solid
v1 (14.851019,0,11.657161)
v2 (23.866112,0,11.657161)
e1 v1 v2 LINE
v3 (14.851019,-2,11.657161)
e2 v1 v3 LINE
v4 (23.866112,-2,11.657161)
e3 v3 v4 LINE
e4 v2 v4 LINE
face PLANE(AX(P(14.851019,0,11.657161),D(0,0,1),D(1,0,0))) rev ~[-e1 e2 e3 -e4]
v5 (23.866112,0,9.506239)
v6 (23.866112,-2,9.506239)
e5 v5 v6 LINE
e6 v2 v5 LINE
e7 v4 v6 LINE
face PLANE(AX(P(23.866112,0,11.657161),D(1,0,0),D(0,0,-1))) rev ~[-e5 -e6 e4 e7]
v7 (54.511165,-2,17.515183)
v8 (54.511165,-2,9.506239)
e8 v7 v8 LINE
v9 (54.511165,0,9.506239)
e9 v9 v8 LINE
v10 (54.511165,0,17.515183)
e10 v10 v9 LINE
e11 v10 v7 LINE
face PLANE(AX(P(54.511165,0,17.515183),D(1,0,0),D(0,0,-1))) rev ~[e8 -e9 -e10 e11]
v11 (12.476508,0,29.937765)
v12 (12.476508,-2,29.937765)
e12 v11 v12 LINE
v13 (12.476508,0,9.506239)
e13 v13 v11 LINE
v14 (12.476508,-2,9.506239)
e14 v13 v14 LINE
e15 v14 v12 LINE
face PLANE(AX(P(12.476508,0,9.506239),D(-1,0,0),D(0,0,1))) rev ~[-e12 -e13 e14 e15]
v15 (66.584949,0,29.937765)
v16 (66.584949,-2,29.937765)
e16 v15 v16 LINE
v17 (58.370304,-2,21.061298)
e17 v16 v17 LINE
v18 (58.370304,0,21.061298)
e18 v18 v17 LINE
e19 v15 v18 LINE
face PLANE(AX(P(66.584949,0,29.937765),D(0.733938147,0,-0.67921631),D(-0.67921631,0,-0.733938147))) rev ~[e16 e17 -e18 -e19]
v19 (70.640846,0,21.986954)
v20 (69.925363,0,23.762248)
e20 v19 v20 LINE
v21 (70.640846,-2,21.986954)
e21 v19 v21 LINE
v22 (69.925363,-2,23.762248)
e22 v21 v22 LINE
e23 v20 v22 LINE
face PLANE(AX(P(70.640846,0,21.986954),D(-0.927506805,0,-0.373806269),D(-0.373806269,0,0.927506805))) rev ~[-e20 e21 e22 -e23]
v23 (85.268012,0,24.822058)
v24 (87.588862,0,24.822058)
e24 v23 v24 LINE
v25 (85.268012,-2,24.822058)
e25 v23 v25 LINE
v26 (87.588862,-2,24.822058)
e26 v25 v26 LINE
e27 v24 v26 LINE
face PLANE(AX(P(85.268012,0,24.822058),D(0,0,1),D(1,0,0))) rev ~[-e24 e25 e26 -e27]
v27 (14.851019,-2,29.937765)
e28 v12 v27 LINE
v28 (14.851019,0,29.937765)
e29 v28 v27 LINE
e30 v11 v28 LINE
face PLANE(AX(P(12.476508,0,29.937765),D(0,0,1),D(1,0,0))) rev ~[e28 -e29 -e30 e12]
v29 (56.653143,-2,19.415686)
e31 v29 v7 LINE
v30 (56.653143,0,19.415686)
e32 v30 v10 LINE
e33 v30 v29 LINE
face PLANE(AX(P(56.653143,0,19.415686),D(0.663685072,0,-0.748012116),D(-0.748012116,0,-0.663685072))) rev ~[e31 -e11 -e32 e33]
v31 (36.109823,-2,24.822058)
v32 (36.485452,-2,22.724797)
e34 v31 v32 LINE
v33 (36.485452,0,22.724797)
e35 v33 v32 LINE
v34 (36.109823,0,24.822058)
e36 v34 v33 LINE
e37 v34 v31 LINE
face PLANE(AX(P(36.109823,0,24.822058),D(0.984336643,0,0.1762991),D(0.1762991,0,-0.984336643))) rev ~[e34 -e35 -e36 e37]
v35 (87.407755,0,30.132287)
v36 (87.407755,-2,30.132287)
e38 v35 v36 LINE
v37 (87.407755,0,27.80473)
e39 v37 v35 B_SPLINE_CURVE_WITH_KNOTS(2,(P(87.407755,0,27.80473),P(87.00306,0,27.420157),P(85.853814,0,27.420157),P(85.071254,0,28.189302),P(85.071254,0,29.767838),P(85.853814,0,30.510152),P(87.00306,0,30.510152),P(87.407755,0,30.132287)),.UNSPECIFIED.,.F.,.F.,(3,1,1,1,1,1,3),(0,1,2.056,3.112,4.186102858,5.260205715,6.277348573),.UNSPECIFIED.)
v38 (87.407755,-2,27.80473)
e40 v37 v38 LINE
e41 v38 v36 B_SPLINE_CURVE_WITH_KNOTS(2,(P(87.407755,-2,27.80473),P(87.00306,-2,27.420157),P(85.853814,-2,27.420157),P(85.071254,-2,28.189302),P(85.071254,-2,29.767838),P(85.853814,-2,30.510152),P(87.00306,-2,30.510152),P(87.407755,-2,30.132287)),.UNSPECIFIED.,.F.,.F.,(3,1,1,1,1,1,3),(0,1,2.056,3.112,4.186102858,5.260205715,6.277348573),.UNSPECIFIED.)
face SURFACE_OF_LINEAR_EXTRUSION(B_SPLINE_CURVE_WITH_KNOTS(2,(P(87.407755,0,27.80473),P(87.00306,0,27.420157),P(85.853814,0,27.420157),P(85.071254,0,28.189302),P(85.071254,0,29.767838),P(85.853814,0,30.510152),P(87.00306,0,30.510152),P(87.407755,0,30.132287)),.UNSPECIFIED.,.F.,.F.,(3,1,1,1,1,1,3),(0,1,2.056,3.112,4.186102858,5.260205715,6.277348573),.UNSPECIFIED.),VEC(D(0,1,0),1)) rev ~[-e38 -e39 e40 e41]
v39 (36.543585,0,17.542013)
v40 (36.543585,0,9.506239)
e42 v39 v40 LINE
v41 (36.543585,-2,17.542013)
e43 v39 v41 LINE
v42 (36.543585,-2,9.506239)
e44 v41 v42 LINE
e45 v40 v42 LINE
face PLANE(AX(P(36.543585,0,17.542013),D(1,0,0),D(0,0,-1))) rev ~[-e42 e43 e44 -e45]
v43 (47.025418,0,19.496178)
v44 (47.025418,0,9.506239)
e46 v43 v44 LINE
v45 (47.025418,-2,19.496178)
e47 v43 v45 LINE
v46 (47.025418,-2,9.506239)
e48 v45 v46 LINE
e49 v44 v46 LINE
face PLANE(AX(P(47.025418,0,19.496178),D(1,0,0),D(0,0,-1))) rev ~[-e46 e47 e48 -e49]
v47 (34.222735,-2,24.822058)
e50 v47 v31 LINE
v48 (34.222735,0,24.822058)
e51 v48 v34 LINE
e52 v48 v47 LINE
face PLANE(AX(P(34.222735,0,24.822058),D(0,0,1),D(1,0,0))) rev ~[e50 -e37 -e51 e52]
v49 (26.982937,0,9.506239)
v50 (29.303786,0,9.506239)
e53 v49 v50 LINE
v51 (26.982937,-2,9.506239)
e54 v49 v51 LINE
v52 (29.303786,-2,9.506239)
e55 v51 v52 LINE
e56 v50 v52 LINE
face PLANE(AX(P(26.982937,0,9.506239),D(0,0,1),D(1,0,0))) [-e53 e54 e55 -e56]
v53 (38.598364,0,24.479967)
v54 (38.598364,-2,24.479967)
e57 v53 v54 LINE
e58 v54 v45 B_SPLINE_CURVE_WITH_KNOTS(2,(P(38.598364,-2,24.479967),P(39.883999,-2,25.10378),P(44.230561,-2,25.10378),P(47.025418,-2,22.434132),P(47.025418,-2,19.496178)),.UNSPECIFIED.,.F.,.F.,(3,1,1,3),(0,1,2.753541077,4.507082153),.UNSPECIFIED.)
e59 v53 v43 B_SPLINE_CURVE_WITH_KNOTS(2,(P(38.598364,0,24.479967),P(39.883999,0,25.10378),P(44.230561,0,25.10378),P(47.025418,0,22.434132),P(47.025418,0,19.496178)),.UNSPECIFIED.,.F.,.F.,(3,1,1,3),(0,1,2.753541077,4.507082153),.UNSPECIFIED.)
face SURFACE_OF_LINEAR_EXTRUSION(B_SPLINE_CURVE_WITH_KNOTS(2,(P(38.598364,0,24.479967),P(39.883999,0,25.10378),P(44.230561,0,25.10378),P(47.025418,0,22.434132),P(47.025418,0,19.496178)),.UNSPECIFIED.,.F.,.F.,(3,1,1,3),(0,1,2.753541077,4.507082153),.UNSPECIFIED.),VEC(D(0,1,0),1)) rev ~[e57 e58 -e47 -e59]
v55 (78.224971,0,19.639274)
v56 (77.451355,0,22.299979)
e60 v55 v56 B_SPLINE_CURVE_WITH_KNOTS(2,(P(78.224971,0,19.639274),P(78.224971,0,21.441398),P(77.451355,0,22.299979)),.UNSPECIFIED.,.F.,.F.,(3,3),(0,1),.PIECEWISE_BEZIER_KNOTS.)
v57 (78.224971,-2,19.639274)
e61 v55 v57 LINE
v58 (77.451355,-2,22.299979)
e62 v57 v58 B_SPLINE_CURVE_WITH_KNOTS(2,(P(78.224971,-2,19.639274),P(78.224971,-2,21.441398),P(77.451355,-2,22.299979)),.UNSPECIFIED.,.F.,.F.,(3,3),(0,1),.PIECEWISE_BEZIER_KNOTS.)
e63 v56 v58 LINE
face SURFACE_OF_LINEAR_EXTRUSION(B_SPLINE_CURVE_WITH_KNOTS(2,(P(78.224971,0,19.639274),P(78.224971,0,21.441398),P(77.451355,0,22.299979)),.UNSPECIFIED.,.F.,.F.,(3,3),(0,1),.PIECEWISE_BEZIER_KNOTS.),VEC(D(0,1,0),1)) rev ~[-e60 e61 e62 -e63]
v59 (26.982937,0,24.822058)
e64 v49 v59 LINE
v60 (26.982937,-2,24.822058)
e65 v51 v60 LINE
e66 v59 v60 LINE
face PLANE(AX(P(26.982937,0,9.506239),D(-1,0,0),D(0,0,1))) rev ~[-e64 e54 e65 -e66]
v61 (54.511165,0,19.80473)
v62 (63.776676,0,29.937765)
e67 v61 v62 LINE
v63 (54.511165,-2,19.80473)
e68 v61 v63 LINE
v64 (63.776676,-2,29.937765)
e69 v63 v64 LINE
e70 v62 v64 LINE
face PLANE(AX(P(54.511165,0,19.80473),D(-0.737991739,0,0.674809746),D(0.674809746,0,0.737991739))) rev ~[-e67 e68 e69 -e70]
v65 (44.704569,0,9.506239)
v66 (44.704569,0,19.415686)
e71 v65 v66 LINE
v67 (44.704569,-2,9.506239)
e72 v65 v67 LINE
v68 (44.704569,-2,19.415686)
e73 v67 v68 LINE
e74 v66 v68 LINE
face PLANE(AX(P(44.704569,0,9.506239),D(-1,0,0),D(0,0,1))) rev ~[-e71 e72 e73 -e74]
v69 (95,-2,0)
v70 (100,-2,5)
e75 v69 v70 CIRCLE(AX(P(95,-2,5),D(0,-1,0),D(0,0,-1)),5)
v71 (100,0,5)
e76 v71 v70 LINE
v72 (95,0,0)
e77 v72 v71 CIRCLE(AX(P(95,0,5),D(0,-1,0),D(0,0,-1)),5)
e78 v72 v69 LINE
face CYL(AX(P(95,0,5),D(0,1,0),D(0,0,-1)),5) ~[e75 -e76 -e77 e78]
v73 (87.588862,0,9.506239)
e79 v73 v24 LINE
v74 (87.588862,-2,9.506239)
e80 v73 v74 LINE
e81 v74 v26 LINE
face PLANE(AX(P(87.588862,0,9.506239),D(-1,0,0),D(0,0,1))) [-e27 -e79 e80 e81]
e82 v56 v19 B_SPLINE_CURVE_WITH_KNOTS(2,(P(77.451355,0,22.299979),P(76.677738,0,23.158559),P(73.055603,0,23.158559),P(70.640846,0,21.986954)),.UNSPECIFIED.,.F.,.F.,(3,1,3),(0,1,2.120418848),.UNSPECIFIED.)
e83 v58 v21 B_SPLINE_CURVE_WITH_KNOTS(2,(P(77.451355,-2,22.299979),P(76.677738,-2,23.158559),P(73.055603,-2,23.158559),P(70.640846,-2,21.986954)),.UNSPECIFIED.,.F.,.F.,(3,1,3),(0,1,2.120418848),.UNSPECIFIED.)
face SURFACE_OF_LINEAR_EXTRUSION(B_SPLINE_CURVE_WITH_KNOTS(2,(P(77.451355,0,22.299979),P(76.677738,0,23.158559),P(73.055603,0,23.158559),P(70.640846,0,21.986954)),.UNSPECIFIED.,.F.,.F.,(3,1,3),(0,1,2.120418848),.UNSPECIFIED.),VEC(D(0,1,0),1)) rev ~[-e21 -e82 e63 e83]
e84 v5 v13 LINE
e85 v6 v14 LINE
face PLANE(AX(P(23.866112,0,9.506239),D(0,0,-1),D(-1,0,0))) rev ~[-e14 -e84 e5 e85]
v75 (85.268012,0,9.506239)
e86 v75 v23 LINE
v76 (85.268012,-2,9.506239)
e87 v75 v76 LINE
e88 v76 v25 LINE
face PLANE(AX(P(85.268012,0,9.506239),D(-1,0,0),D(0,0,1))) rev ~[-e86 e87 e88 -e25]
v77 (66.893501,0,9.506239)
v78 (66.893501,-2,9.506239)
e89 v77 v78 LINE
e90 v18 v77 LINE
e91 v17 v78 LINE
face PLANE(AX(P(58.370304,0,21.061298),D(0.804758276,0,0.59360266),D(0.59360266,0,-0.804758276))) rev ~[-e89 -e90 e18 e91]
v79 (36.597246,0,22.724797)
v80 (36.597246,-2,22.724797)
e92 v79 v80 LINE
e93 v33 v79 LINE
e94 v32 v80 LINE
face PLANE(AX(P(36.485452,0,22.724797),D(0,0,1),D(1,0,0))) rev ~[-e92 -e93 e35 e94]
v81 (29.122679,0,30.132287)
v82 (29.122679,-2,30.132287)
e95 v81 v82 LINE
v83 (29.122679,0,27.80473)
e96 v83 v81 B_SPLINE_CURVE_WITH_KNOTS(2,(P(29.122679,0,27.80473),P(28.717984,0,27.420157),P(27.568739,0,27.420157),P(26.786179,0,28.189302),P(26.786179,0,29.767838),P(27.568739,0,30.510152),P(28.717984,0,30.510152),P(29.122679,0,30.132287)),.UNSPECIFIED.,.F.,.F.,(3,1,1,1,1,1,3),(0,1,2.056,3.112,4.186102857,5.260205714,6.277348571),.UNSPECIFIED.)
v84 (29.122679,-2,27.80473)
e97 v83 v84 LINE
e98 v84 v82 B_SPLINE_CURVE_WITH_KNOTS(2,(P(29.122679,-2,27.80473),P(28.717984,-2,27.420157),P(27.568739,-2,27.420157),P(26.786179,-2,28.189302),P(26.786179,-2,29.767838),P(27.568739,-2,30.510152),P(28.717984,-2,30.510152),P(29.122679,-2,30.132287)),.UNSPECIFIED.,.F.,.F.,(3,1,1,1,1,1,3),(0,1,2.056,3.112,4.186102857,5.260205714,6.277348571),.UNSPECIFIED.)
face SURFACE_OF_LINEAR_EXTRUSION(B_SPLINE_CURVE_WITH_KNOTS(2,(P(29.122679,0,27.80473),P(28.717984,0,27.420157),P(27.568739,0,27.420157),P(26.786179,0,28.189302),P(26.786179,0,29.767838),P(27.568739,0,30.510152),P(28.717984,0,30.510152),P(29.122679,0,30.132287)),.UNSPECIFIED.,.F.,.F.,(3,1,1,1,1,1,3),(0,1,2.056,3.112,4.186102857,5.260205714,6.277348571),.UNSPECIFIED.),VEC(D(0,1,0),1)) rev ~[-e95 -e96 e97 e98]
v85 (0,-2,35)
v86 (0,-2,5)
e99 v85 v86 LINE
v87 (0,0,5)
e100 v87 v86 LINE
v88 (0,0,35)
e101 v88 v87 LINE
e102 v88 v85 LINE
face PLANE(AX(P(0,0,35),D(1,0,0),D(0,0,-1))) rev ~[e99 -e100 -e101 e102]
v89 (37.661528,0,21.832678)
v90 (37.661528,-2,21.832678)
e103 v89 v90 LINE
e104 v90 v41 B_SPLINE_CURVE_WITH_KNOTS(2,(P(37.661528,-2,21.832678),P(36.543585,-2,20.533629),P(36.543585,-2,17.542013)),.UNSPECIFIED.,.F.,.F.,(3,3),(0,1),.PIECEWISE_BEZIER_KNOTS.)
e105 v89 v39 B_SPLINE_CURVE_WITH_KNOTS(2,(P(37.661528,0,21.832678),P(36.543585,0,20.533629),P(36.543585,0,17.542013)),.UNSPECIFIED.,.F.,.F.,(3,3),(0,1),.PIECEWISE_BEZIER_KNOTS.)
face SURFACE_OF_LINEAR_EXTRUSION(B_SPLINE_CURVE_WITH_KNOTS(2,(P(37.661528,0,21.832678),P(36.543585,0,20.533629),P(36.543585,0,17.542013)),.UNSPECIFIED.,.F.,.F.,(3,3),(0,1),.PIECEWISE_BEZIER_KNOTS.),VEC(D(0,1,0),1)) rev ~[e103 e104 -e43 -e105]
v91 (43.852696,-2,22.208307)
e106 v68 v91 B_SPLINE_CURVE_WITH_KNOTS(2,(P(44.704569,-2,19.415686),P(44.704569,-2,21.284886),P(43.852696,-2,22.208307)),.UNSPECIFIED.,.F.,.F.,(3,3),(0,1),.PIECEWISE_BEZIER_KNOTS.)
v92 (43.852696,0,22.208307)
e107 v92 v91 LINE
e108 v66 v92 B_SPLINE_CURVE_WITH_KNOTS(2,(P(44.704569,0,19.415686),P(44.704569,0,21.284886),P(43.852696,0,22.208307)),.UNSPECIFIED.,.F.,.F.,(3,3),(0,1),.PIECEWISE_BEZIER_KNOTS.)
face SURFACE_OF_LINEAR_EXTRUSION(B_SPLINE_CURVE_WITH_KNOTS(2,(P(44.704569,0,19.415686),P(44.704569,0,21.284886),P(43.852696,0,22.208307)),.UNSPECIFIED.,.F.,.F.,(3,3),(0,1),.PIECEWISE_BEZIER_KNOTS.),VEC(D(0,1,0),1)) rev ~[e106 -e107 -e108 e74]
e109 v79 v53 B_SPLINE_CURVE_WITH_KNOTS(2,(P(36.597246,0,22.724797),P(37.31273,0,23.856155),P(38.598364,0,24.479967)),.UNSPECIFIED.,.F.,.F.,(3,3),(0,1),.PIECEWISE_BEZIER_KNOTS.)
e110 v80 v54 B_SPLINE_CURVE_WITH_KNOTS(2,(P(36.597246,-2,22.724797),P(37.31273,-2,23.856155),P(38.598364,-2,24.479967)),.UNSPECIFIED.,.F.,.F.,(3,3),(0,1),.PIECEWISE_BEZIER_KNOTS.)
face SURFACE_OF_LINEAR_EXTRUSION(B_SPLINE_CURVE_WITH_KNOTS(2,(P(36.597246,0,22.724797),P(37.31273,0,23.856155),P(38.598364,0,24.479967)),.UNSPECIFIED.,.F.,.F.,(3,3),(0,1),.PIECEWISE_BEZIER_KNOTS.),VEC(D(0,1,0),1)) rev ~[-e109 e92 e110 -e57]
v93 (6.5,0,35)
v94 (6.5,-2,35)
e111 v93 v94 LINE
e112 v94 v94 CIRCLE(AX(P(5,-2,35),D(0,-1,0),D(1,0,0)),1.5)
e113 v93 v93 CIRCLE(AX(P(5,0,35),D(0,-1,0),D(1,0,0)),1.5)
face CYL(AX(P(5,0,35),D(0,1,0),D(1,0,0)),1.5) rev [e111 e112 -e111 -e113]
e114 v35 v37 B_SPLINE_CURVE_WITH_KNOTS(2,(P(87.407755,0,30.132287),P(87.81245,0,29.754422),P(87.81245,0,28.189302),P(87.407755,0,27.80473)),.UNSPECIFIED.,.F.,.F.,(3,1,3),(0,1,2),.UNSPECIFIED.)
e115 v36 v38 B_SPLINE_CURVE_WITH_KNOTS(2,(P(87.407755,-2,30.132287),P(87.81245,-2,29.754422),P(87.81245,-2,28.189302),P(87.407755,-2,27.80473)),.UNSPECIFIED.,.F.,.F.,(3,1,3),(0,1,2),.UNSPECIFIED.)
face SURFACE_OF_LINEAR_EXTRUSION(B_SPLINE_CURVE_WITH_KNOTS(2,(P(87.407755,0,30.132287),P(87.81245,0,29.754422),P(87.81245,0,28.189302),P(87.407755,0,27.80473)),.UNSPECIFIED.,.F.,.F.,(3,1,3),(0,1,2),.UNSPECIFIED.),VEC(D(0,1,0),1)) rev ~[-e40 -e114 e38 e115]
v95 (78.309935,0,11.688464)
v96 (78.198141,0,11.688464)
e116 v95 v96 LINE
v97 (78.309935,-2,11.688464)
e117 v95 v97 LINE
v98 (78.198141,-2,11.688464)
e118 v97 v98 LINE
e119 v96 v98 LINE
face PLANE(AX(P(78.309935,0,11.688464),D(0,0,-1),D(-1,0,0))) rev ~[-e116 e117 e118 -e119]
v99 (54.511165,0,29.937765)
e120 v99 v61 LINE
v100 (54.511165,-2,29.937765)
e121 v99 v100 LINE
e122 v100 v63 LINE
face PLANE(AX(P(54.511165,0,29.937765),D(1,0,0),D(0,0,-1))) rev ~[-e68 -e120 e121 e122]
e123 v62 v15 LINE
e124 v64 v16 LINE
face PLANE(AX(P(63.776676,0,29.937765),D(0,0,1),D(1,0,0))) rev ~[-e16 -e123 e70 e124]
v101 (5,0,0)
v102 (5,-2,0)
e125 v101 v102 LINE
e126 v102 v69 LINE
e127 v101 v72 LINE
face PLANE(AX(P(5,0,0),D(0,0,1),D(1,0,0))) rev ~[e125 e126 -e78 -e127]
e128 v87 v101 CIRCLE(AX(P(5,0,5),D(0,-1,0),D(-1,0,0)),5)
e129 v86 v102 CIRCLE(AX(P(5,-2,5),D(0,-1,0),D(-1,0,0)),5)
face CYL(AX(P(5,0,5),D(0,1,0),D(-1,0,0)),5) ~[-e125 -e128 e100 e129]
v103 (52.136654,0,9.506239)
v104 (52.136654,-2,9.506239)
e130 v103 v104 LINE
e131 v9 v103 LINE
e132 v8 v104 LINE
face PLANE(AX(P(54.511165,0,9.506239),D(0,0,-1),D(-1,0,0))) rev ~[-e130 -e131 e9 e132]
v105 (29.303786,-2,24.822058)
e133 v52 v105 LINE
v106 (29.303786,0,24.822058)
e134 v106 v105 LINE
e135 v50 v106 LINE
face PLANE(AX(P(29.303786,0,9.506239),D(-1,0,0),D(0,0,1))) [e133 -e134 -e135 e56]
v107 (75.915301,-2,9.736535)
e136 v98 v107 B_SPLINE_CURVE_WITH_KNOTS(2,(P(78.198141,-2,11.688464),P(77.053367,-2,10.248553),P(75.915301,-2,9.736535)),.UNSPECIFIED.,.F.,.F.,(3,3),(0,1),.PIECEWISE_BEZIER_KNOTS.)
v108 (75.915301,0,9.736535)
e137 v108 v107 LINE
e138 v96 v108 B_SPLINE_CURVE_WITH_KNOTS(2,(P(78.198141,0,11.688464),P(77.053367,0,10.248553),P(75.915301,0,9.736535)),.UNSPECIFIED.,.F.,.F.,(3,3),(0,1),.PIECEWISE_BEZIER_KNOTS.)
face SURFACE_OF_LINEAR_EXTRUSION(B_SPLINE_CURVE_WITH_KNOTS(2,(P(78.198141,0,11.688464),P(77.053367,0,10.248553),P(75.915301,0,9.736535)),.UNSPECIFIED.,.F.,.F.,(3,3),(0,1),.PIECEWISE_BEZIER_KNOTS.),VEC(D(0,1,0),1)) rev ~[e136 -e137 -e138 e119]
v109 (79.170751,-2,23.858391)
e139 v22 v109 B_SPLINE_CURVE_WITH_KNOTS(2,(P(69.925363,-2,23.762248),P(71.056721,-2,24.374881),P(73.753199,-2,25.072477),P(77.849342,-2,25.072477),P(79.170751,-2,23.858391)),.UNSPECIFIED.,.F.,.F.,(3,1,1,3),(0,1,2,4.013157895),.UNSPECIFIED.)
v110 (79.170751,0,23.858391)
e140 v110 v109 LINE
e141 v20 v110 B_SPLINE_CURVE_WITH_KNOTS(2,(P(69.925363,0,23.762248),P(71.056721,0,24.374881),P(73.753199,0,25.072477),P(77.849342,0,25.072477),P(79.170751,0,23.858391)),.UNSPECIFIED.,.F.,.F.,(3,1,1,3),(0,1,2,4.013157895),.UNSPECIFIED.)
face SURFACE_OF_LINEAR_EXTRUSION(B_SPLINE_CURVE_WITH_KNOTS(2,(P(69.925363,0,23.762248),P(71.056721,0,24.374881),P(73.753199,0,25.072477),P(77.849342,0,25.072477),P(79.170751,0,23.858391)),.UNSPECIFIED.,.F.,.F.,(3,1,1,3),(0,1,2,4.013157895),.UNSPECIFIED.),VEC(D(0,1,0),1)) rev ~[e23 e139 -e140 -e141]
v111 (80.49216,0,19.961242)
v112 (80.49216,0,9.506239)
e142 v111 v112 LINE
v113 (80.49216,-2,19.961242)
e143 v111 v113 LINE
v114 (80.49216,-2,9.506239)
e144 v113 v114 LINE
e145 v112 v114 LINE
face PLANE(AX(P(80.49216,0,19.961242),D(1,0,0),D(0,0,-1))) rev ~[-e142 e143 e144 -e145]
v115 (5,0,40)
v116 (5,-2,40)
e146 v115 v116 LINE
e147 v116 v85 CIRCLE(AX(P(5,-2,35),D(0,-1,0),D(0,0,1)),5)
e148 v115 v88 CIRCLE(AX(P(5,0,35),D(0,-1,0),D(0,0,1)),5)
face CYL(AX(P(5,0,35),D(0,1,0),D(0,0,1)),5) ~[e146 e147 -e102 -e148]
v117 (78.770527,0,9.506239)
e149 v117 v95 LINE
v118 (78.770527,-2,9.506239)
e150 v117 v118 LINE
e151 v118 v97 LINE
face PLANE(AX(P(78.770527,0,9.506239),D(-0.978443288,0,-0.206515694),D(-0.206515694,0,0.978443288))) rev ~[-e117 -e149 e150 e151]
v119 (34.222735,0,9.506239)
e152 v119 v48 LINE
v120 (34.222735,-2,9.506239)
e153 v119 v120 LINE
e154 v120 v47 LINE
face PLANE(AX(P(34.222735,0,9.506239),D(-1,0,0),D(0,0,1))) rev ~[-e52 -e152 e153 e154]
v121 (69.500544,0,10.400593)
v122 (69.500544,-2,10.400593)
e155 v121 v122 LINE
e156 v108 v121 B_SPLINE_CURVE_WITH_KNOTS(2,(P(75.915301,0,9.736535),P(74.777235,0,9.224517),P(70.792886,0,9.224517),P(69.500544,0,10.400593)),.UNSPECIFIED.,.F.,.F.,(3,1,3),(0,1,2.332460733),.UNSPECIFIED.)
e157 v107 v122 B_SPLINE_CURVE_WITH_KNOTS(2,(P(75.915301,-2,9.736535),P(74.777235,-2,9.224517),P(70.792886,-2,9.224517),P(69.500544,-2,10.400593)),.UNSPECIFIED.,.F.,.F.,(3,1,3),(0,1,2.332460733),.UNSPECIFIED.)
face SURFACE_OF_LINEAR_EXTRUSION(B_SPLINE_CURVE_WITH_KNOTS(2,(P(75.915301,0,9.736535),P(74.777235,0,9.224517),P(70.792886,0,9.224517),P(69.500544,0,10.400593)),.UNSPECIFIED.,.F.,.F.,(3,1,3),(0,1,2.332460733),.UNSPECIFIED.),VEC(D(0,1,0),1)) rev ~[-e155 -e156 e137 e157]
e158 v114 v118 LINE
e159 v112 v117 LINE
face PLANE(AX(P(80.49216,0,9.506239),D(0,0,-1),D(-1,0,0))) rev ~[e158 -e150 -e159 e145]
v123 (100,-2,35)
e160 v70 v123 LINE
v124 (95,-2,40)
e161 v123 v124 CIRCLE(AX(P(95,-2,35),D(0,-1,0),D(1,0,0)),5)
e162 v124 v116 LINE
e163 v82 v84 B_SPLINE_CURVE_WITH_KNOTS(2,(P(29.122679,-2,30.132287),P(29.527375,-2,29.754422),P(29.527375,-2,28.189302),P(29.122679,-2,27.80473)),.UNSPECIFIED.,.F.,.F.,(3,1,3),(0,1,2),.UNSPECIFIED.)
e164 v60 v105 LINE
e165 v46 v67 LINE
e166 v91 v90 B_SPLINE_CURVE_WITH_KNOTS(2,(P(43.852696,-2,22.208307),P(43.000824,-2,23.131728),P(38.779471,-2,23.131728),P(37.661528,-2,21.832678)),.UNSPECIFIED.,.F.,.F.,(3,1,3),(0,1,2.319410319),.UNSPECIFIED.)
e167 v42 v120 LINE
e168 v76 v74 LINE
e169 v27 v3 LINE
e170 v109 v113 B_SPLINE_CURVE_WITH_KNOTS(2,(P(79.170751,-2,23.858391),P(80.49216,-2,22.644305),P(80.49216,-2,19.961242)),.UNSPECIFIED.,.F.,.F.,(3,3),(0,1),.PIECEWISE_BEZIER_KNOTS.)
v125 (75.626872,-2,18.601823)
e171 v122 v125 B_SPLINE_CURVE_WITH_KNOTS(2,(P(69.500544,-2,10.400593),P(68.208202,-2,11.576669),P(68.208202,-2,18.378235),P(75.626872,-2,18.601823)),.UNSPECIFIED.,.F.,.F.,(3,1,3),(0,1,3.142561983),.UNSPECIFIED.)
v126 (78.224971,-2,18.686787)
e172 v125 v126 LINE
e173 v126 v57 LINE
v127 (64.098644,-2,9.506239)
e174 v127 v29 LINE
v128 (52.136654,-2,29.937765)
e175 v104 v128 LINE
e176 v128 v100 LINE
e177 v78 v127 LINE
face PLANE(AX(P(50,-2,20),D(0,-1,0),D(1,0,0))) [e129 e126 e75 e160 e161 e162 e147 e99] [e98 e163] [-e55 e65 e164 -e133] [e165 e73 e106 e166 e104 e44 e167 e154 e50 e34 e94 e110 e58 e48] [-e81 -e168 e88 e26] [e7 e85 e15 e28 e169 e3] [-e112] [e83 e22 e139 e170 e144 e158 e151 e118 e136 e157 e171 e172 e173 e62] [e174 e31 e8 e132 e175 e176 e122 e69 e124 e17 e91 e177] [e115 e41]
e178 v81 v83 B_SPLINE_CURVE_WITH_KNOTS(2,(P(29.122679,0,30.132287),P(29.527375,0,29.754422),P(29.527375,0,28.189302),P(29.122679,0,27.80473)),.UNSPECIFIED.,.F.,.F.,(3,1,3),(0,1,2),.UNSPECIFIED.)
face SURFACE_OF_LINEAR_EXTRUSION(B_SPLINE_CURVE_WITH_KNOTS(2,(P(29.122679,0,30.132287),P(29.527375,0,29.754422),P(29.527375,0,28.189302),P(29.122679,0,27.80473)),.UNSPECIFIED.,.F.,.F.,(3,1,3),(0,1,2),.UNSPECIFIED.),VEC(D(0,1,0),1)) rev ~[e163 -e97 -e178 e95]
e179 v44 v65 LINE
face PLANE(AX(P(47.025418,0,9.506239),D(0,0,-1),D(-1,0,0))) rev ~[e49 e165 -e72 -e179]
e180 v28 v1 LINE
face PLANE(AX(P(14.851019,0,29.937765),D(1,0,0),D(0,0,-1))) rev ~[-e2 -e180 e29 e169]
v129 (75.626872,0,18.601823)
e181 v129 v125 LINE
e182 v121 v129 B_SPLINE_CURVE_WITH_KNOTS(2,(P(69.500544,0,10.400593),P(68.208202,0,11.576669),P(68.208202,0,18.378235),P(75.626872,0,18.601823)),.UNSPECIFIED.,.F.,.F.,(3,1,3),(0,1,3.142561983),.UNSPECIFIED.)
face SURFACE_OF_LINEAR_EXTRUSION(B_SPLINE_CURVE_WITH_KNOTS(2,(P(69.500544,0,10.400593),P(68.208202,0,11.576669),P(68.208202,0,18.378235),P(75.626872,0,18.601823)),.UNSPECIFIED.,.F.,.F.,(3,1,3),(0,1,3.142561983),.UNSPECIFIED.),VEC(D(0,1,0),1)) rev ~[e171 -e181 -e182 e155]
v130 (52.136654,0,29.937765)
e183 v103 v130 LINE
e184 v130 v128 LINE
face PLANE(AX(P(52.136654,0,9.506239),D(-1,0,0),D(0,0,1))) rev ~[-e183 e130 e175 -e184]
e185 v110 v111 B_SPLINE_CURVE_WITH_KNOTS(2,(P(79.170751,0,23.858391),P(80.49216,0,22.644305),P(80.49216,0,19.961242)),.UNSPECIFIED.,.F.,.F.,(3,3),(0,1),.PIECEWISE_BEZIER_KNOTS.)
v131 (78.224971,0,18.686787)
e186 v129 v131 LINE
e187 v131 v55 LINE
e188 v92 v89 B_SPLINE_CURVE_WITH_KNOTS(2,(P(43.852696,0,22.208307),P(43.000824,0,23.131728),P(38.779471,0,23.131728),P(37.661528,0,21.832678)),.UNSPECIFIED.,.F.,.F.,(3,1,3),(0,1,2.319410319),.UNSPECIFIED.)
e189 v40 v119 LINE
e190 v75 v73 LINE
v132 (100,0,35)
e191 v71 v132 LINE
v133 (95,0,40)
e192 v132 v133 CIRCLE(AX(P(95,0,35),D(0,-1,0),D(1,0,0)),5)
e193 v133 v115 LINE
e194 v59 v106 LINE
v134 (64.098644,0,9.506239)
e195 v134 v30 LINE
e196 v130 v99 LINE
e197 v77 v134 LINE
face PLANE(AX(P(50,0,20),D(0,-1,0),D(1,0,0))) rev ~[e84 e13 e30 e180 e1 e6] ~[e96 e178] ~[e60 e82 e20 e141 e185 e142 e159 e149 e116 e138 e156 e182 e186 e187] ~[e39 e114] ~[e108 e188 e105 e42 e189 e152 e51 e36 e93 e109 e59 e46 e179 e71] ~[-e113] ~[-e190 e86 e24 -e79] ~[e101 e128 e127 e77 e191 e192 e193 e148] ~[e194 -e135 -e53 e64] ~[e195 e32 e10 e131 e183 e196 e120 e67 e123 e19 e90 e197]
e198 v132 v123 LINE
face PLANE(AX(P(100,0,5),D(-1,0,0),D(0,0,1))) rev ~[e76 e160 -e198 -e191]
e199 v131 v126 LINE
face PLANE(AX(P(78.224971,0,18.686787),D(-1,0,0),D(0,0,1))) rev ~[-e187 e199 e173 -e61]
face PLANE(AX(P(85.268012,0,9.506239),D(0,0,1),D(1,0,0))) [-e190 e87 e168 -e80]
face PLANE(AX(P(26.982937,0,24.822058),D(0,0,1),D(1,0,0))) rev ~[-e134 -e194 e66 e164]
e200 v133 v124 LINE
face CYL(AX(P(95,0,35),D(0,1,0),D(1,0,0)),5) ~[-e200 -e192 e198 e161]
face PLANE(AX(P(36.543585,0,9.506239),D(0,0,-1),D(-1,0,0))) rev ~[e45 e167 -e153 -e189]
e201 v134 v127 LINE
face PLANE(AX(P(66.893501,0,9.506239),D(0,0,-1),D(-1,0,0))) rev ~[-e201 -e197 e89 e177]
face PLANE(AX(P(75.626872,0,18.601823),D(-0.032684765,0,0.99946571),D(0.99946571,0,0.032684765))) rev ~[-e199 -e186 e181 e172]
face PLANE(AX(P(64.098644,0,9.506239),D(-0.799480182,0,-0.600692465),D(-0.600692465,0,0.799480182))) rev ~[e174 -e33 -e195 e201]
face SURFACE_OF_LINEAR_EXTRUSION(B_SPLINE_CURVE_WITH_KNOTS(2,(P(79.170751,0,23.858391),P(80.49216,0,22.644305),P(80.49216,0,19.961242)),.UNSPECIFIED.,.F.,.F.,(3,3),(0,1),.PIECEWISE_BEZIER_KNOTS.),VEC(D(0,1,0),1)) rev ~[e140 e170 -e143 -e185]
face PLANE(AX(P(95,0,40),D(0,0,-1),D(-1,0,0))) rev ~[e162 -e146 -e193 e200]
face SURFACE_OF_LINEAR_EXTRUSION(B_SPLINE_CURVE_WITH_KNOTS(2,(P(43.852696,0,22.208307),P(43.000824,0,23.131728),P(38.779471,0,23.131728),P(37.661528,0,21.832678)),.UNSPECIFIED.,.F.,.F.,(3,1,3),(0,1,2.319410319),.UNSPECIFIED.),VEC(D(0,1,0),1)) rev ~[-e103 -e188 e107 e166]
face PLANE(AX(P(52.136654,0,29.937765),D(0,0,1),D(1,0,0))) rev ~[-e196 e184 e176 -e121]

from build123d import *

# Parameters (mm, degrees)
F0_W     = 2.3208496367
F0_H     = 15.3158188932
F0_R     = 1.5
F1_DEPTH = 2


with BuildPart() as f1:
    # F0 (on Front) → F1 (new body)
    with BuildSketch(Plane.XZ):
        with BuildLine():
            ThreePointArc((0, 5), (1.4644660941, 1.4644660941), (5, 0))
            Line((5, 0), (95, 0))
            ThreePointArc((95, 0), (98.5355339059, 1.4644660941), (100, 5))
            Line((100, 5), (100, 35))
            ThreePointArc((100, 35), (98.5355339059, 38.5355339059), (95, 40))
            Line((95, 40), (5, 40))
            ThreePointArc((5, 40), (1.4644660941, 38.5355339059), (0, 35))
            Line((0, 35), (0, 5))
        make_face()
        Polygon((23.8661115754, 9.5062389972), (12.4765084451, 9.5062389972), (12.4765084451, 29.9377649894), (14.8510193451, 29.9377649894), (14.8510193451, 11.6571613002), (23.8661115754, 11.6571613002), align=None, mode=Mode.SUBTRACT)
        with Locations((28.1433614356, 17.1641484438)):
            Rectangle(F0_W, F0_H, mode=Mode.SUBTRACT)
        with BuildLine():
            Line((47.0254184507, 9.5062389972), (44.7045688141, 9.5062389972))
            Line((44.7045688141, 9.5062389972), (44.7045688141, 19.4156856154))
            add(Edge.make_bspline(
                [(44.7045688141, 19.4156856154), (44.7045688141, 21.2848862862), (43.8526962596, 22.2083071917)],
                knots=[0, 0, 0, 1, 1, 1], degree=2))
            add(Edge.make_bspline(
                [(43.8526962596, 22.2083071917), (43.0008237051, 23.1317280973), (41.1808125256, 23.1317280973)],
                knots=[0, 0, 0, 1, 1, 1], degree=2))
            add(Edge.make_bspline(
                [(41.1808125256, 23.1317280973), (38.779470994, 23.1317280973), (37.6615280091, 21.8326783488)],
                knots=[0, 0, 0, 1, 1, 1], degree=2))
            add(Edge.make_bspline(
                [(37.6615280091, 21.8326783488), (36.5435850242, 20.5336286004), (36.5435850242, 17.5420131727)],
                knots=[0, 0, 0, 1, 1, 1], degree=2))
            Line((36.5435850242, 17.5420131727), (36.5435850242, 9.5062389972))
            Line((36.5435850242, 9.5062389972), (34.2227353876, 9.5062389972))
            Line((34.2227353876, 9.5062389972), (34.2227353876, 24.8220578905))
            Line((34.2227353876, 24.8220578905), (36.1098231461, 24.8220578905))
            Line((36.1098231461, 24.8220578905), (36.485451989, 22.7247968508))
            Line((36.485451989, 22.7247968508), (36.5972462875, 22.7247968508))
            add(Edge.make_bspline(
                [(36.5972462875, 22.7247968508), (37.3127297978, 23.8561551515), (38.5983642305, 24.4799673371)],
                knots=[0, 0, 0, 1, 1, 1], degree=2))
            add(Edge.make_bspline(
                [(38.5983642305, 24.4799673371), (39.8839986631, 25.1037795227), (41.4625341578, 25.1037795227)],
                knots=[0, 0, 0, 1, 1, 1], degree=2))
            add(Edge.make_bspline(
                [(41.4625341578, 25.1037795227), (44.2305609885, 25.1037795227), (45.6279897196, 23.7689555987)],
                knots=[0, 0, 0, 1, 1, 1], degree=2))
            add(Edge.make_bspline(
                [(45.6279897196, 23.7689555987), (47.0254184507, 22.4341316747), (47.0254184507, 19.4961775104)],
                knots=[0, 0, 0, 1, 1, 1], degree=2))
            Line((47.0254184507, 19.4961775104), (47.0254184507, 9.5062389972))
        make_face(mode=Mode.SUBTRACT)
        Polygon((58.3703038616, 21.0612976892), (66.8935011785, 9.5062389972), (64.0986437162, 9.5062389972), (56.6531434368, 19.4156856154), (54.5111646777, 17.5151825411), (54.5111646777, 9.5062389972), (52.1366537777, 9.5062389972), (52.1366537777, 29.9377649894), (54.5111646777, 29.9377649894), (54.5111646777, 19.8047297742), (63.7766761366, 29.9377649894), (66.5849489147, 29.9377649894), align=None, mode=Mode.SUBTRACT)
        with BuildLine():
            Line((80.4921596469, 9.5062389972), (78.7705274502, 9.5062389972))
            Line((78.7705274502, 9.5062389972), (78.3099349404, 11.6884637038))
            Line((78.3099349404, 11.6884637038), (78.1981406419, 11.6884637038))
            add(Edge.make_bspline(
                [(78.1981406419, 11.6884637038), (77.0533670254, 10.2485531392), (75.9153010667, 9.7365352521)],
                knots=[0, 0, 0, 1, 1, 1], degree=2))
            add(Edge.make_bspline(
                [(75.9153010667, 9.7365352521), (74.7772351081, 9.224517365), (73.0690182271, 9.224517365)],
                knots=[0, 0, 0, 1, 1, 1], degree=2))
            add(Edge.make_bspline(
                [(73.0690182271, 9.224517365), (70.7928863099, 9.224517365), (69.5005442193, 10.4005933852)],
                knots=[0, 0, 0, 1, 1, 1], degree=2))
            add(Edge.make_bspline(
                [(69.5005442193, 10.4005933852), (68.2082021288, 11.5766694053), (68.2082021288, 13.7410070241)],
                knots=[0, 0, 0, 1, 1, 1], degree=2))
            add(Edge.make_bspline(
                [(68.2082021288, 13.7410070241), (68.2082021288, 18.3782345255), (75.6268717766, 18.6018231224)],
                knots=[0, 0, 0, 1, 1, 1], degree=2))
            Line((75.6268717766, 18.6018231224), (78.2249712735, 18.6867867893))
            Line((78.2249712735, 18.6867867893), (78.2249712735, 19.6392742124))
            add(Edge.make_bspline(
                [(78.2249712735, 19.6392742124), (78.2249712735, 21.4413983041), (77.451354728, 22.2999785165)],
                knots=[0, 0, 0, 1, 1, 1], degree=2))
            add(Edge.make_bspline(
                [(77.451354728, 22.2999785165), (76.6777381824, 23.1585587289), (74.9695213015, 23.1585587289)],
                knots=[0, 0, 0, 1, 1, 1], degree=2))
            add(Edge.make_bspline(
                [(74.9695213015, 23.1585587289), (73.0556029113, 23.1585587289), (70.6408460639, 21.9869544807)],
                knots=[0, 0, 0, 1, 1, 1], degree=2))
            Line((70.6408460639, 21.9869544807), (69.9253625536, 23.7622479408))
            add(Edge.make_bspline(
                [(69.9253625536, 23.7622479408), (71.0567208543, 24.3748806965), (72.4049600941, 24.7236789078)],
                knots=[0, 0, 0, 1, 1, 1], degree=2))
            add(Edge.make_bspline(
                [(72.4049600941, 24.7236789078), (73.7531993339, 25.0724771191), (75.1126180036, 25.0724771191)],
                knots=[0, 0, 0, 1, 1, 1], degree=2))
            add(Edge.make_bspline(
                [(75.1126180036, 25.0724771191), (77.8493424306, 25.0724771191), (79.1707510388, 23.8583910375)],
                knots=[0, 0, 0, 1, 1, 1], degree=2))
            add(Edge.make_bspline(
                [(79.1707510388, 23.8583910375), (80.4921596469, 22.6443049559), (80.4921596469, 19.9612417921)],
                knots=[0, 0, 0, 1, 1, 1], degree=2))
            Line((80.4921596469, 19.9612417921), (80.4921596469, 9.5062389972))
        make_face(mode=Mode.SUBTRACT)
        with Locations((86.4284368968, 17.1641484438)):
            Rectangle(F0_W, F0_H, mode=Mode.SUBTRACT)
        with BuildLine():
            add(Edge.make_bspline(
                [(27.1774586967, 27.8047297742), (26.786178652, 28.189302161), (26.786178652, 28.9718622504)],
                knots=[0, 0, 0, 1, 1, 1], degree=2))
            add(Edge.make_bspline(
                [(26.786178652, 28.9718622504), (26.786178652, 29.7678376557), (27.1774586967, 30.1389947267)],
                knots=[0, 0, 0, 1, 1, 1], degree=2))
            add(Edge.make_bspline(
                [(27.1774586967, 30.1389947267), (27.5687387414, 30.5101517977), (28.1590126374, 30.5101517977)],
                knots=[0, 0, 0, 1, 1, 1], degree=2))
            add(Edge.make_bspline(
                [(28.1590126374, 30.5101517977), (28.7179841299, 30.5101517977), (29.1226794904, 30.1322870688)],
                knots=[0, 0, 0, 1, 1, 1], degree=2))
            add(Edge.make_bspline(
                [(29.1226794904, 30.1322870688), (29.527374851, 29.7544223399), (29.527374851, 28.9718622504)],
                knots=[0, 0, 0, 1, 1, 1], degree=2))
            add(Edge.make_bspline(
                [(29.527374851, 28.9718622504), (29.527374851, 28.189302161), (29.1226794904, 27.8047297742)],
                knots=[0, 0, 0, 1, 1, 1], degree=2))
            add(Edge.make_bspline(
                [(29.1226794904, 27.8047297742), (28.7179841299, 27.4201573874), (28.1590126374, 27.4201573874)],
                knots=[0, 0, 0, 1, 1, 1], degree=2))
            add(Edge.make_bspline(
                [(28.1590126374, 27.4201573874), (27.5687387414, 27.4201573874), (27.1774586967, 27.8047297742)],
                knots=[0, 0, 0, 1, 1, 1], degree=2))
        make_face(mode=Mode.SUBTRACT)
        with Locations((5, 35)):
            Circle(F0_R, mode=Mode.SUBTRACT)
        with BuildLine():
            add(Edge.make_bspline(
                [(85.4625341578, 27.8047297742), (85.0712541131, 28.189302161), (85.0712541131, 28.9718622504)],
                knots=[0, 0, 0, 1, 1, 1], degree=2))
            add(Edge.make_bspline(
                [(85.0712541131, 28.9718622504), (85.0712541131, 29.7678376557), (85.4625341578, 30.1389947267)],
                knots=[0, 0, 0, 1, 1, 1], degree=2))
            add(Edge.make_bspline(
                [(85.4625341578, 30.1389947267), (85.8538142025, 30.5101517977), (86.4440880986, 30.5101517977)],
                knots=[0, 0, 0, 1, 1, 1], degree=2))
            add(Edge.make_bspline(
                [(86.4440880986, 30.5101517977), (87.003059591, 30.5101517977), (87.4077549516, 30.1322870688)],
                knots=[0, 0, 0, 1, 1, 1], degree=2))
            add(Edge.make_bspline(
                [(87.4077549516, 30.1322870688), (87.8124503121, 29.7544223399), (87.8124503121, 28.9718622504)],
                knots=[0, 0, 0, 1, 1, 1], degree=2))
            add(Edge.make_bspline(
                [(87.8124503121, 28.9718622504), (87.8124503121, 28.189302161), (87.4077549516, 27.8047297742)],
                knots=[0, 0, 0, 1, 1, 1], degree=2))
            add(Edge.make_bspline(
                [(87.4077549516, 27.8047297742), (87.003059591, 27.4201573874), (86.4440880986, 27.4201573874)],
                knots=[0, 0, 0, 1, 1, 1], degree=2))
            add(Edge.make_bspline(
                [(86.4440880986, 27.4201573874), (85.8538142025, 27.4201573874), (85.4625341578, 27.8047297742)],
                knots=[0, 0, 0, 1, 1, 1], degree=2))
        make_face(mode=Mode.SUBTRACT)
    extrude(amount=F1_DEPTH)


solid = f1.part
